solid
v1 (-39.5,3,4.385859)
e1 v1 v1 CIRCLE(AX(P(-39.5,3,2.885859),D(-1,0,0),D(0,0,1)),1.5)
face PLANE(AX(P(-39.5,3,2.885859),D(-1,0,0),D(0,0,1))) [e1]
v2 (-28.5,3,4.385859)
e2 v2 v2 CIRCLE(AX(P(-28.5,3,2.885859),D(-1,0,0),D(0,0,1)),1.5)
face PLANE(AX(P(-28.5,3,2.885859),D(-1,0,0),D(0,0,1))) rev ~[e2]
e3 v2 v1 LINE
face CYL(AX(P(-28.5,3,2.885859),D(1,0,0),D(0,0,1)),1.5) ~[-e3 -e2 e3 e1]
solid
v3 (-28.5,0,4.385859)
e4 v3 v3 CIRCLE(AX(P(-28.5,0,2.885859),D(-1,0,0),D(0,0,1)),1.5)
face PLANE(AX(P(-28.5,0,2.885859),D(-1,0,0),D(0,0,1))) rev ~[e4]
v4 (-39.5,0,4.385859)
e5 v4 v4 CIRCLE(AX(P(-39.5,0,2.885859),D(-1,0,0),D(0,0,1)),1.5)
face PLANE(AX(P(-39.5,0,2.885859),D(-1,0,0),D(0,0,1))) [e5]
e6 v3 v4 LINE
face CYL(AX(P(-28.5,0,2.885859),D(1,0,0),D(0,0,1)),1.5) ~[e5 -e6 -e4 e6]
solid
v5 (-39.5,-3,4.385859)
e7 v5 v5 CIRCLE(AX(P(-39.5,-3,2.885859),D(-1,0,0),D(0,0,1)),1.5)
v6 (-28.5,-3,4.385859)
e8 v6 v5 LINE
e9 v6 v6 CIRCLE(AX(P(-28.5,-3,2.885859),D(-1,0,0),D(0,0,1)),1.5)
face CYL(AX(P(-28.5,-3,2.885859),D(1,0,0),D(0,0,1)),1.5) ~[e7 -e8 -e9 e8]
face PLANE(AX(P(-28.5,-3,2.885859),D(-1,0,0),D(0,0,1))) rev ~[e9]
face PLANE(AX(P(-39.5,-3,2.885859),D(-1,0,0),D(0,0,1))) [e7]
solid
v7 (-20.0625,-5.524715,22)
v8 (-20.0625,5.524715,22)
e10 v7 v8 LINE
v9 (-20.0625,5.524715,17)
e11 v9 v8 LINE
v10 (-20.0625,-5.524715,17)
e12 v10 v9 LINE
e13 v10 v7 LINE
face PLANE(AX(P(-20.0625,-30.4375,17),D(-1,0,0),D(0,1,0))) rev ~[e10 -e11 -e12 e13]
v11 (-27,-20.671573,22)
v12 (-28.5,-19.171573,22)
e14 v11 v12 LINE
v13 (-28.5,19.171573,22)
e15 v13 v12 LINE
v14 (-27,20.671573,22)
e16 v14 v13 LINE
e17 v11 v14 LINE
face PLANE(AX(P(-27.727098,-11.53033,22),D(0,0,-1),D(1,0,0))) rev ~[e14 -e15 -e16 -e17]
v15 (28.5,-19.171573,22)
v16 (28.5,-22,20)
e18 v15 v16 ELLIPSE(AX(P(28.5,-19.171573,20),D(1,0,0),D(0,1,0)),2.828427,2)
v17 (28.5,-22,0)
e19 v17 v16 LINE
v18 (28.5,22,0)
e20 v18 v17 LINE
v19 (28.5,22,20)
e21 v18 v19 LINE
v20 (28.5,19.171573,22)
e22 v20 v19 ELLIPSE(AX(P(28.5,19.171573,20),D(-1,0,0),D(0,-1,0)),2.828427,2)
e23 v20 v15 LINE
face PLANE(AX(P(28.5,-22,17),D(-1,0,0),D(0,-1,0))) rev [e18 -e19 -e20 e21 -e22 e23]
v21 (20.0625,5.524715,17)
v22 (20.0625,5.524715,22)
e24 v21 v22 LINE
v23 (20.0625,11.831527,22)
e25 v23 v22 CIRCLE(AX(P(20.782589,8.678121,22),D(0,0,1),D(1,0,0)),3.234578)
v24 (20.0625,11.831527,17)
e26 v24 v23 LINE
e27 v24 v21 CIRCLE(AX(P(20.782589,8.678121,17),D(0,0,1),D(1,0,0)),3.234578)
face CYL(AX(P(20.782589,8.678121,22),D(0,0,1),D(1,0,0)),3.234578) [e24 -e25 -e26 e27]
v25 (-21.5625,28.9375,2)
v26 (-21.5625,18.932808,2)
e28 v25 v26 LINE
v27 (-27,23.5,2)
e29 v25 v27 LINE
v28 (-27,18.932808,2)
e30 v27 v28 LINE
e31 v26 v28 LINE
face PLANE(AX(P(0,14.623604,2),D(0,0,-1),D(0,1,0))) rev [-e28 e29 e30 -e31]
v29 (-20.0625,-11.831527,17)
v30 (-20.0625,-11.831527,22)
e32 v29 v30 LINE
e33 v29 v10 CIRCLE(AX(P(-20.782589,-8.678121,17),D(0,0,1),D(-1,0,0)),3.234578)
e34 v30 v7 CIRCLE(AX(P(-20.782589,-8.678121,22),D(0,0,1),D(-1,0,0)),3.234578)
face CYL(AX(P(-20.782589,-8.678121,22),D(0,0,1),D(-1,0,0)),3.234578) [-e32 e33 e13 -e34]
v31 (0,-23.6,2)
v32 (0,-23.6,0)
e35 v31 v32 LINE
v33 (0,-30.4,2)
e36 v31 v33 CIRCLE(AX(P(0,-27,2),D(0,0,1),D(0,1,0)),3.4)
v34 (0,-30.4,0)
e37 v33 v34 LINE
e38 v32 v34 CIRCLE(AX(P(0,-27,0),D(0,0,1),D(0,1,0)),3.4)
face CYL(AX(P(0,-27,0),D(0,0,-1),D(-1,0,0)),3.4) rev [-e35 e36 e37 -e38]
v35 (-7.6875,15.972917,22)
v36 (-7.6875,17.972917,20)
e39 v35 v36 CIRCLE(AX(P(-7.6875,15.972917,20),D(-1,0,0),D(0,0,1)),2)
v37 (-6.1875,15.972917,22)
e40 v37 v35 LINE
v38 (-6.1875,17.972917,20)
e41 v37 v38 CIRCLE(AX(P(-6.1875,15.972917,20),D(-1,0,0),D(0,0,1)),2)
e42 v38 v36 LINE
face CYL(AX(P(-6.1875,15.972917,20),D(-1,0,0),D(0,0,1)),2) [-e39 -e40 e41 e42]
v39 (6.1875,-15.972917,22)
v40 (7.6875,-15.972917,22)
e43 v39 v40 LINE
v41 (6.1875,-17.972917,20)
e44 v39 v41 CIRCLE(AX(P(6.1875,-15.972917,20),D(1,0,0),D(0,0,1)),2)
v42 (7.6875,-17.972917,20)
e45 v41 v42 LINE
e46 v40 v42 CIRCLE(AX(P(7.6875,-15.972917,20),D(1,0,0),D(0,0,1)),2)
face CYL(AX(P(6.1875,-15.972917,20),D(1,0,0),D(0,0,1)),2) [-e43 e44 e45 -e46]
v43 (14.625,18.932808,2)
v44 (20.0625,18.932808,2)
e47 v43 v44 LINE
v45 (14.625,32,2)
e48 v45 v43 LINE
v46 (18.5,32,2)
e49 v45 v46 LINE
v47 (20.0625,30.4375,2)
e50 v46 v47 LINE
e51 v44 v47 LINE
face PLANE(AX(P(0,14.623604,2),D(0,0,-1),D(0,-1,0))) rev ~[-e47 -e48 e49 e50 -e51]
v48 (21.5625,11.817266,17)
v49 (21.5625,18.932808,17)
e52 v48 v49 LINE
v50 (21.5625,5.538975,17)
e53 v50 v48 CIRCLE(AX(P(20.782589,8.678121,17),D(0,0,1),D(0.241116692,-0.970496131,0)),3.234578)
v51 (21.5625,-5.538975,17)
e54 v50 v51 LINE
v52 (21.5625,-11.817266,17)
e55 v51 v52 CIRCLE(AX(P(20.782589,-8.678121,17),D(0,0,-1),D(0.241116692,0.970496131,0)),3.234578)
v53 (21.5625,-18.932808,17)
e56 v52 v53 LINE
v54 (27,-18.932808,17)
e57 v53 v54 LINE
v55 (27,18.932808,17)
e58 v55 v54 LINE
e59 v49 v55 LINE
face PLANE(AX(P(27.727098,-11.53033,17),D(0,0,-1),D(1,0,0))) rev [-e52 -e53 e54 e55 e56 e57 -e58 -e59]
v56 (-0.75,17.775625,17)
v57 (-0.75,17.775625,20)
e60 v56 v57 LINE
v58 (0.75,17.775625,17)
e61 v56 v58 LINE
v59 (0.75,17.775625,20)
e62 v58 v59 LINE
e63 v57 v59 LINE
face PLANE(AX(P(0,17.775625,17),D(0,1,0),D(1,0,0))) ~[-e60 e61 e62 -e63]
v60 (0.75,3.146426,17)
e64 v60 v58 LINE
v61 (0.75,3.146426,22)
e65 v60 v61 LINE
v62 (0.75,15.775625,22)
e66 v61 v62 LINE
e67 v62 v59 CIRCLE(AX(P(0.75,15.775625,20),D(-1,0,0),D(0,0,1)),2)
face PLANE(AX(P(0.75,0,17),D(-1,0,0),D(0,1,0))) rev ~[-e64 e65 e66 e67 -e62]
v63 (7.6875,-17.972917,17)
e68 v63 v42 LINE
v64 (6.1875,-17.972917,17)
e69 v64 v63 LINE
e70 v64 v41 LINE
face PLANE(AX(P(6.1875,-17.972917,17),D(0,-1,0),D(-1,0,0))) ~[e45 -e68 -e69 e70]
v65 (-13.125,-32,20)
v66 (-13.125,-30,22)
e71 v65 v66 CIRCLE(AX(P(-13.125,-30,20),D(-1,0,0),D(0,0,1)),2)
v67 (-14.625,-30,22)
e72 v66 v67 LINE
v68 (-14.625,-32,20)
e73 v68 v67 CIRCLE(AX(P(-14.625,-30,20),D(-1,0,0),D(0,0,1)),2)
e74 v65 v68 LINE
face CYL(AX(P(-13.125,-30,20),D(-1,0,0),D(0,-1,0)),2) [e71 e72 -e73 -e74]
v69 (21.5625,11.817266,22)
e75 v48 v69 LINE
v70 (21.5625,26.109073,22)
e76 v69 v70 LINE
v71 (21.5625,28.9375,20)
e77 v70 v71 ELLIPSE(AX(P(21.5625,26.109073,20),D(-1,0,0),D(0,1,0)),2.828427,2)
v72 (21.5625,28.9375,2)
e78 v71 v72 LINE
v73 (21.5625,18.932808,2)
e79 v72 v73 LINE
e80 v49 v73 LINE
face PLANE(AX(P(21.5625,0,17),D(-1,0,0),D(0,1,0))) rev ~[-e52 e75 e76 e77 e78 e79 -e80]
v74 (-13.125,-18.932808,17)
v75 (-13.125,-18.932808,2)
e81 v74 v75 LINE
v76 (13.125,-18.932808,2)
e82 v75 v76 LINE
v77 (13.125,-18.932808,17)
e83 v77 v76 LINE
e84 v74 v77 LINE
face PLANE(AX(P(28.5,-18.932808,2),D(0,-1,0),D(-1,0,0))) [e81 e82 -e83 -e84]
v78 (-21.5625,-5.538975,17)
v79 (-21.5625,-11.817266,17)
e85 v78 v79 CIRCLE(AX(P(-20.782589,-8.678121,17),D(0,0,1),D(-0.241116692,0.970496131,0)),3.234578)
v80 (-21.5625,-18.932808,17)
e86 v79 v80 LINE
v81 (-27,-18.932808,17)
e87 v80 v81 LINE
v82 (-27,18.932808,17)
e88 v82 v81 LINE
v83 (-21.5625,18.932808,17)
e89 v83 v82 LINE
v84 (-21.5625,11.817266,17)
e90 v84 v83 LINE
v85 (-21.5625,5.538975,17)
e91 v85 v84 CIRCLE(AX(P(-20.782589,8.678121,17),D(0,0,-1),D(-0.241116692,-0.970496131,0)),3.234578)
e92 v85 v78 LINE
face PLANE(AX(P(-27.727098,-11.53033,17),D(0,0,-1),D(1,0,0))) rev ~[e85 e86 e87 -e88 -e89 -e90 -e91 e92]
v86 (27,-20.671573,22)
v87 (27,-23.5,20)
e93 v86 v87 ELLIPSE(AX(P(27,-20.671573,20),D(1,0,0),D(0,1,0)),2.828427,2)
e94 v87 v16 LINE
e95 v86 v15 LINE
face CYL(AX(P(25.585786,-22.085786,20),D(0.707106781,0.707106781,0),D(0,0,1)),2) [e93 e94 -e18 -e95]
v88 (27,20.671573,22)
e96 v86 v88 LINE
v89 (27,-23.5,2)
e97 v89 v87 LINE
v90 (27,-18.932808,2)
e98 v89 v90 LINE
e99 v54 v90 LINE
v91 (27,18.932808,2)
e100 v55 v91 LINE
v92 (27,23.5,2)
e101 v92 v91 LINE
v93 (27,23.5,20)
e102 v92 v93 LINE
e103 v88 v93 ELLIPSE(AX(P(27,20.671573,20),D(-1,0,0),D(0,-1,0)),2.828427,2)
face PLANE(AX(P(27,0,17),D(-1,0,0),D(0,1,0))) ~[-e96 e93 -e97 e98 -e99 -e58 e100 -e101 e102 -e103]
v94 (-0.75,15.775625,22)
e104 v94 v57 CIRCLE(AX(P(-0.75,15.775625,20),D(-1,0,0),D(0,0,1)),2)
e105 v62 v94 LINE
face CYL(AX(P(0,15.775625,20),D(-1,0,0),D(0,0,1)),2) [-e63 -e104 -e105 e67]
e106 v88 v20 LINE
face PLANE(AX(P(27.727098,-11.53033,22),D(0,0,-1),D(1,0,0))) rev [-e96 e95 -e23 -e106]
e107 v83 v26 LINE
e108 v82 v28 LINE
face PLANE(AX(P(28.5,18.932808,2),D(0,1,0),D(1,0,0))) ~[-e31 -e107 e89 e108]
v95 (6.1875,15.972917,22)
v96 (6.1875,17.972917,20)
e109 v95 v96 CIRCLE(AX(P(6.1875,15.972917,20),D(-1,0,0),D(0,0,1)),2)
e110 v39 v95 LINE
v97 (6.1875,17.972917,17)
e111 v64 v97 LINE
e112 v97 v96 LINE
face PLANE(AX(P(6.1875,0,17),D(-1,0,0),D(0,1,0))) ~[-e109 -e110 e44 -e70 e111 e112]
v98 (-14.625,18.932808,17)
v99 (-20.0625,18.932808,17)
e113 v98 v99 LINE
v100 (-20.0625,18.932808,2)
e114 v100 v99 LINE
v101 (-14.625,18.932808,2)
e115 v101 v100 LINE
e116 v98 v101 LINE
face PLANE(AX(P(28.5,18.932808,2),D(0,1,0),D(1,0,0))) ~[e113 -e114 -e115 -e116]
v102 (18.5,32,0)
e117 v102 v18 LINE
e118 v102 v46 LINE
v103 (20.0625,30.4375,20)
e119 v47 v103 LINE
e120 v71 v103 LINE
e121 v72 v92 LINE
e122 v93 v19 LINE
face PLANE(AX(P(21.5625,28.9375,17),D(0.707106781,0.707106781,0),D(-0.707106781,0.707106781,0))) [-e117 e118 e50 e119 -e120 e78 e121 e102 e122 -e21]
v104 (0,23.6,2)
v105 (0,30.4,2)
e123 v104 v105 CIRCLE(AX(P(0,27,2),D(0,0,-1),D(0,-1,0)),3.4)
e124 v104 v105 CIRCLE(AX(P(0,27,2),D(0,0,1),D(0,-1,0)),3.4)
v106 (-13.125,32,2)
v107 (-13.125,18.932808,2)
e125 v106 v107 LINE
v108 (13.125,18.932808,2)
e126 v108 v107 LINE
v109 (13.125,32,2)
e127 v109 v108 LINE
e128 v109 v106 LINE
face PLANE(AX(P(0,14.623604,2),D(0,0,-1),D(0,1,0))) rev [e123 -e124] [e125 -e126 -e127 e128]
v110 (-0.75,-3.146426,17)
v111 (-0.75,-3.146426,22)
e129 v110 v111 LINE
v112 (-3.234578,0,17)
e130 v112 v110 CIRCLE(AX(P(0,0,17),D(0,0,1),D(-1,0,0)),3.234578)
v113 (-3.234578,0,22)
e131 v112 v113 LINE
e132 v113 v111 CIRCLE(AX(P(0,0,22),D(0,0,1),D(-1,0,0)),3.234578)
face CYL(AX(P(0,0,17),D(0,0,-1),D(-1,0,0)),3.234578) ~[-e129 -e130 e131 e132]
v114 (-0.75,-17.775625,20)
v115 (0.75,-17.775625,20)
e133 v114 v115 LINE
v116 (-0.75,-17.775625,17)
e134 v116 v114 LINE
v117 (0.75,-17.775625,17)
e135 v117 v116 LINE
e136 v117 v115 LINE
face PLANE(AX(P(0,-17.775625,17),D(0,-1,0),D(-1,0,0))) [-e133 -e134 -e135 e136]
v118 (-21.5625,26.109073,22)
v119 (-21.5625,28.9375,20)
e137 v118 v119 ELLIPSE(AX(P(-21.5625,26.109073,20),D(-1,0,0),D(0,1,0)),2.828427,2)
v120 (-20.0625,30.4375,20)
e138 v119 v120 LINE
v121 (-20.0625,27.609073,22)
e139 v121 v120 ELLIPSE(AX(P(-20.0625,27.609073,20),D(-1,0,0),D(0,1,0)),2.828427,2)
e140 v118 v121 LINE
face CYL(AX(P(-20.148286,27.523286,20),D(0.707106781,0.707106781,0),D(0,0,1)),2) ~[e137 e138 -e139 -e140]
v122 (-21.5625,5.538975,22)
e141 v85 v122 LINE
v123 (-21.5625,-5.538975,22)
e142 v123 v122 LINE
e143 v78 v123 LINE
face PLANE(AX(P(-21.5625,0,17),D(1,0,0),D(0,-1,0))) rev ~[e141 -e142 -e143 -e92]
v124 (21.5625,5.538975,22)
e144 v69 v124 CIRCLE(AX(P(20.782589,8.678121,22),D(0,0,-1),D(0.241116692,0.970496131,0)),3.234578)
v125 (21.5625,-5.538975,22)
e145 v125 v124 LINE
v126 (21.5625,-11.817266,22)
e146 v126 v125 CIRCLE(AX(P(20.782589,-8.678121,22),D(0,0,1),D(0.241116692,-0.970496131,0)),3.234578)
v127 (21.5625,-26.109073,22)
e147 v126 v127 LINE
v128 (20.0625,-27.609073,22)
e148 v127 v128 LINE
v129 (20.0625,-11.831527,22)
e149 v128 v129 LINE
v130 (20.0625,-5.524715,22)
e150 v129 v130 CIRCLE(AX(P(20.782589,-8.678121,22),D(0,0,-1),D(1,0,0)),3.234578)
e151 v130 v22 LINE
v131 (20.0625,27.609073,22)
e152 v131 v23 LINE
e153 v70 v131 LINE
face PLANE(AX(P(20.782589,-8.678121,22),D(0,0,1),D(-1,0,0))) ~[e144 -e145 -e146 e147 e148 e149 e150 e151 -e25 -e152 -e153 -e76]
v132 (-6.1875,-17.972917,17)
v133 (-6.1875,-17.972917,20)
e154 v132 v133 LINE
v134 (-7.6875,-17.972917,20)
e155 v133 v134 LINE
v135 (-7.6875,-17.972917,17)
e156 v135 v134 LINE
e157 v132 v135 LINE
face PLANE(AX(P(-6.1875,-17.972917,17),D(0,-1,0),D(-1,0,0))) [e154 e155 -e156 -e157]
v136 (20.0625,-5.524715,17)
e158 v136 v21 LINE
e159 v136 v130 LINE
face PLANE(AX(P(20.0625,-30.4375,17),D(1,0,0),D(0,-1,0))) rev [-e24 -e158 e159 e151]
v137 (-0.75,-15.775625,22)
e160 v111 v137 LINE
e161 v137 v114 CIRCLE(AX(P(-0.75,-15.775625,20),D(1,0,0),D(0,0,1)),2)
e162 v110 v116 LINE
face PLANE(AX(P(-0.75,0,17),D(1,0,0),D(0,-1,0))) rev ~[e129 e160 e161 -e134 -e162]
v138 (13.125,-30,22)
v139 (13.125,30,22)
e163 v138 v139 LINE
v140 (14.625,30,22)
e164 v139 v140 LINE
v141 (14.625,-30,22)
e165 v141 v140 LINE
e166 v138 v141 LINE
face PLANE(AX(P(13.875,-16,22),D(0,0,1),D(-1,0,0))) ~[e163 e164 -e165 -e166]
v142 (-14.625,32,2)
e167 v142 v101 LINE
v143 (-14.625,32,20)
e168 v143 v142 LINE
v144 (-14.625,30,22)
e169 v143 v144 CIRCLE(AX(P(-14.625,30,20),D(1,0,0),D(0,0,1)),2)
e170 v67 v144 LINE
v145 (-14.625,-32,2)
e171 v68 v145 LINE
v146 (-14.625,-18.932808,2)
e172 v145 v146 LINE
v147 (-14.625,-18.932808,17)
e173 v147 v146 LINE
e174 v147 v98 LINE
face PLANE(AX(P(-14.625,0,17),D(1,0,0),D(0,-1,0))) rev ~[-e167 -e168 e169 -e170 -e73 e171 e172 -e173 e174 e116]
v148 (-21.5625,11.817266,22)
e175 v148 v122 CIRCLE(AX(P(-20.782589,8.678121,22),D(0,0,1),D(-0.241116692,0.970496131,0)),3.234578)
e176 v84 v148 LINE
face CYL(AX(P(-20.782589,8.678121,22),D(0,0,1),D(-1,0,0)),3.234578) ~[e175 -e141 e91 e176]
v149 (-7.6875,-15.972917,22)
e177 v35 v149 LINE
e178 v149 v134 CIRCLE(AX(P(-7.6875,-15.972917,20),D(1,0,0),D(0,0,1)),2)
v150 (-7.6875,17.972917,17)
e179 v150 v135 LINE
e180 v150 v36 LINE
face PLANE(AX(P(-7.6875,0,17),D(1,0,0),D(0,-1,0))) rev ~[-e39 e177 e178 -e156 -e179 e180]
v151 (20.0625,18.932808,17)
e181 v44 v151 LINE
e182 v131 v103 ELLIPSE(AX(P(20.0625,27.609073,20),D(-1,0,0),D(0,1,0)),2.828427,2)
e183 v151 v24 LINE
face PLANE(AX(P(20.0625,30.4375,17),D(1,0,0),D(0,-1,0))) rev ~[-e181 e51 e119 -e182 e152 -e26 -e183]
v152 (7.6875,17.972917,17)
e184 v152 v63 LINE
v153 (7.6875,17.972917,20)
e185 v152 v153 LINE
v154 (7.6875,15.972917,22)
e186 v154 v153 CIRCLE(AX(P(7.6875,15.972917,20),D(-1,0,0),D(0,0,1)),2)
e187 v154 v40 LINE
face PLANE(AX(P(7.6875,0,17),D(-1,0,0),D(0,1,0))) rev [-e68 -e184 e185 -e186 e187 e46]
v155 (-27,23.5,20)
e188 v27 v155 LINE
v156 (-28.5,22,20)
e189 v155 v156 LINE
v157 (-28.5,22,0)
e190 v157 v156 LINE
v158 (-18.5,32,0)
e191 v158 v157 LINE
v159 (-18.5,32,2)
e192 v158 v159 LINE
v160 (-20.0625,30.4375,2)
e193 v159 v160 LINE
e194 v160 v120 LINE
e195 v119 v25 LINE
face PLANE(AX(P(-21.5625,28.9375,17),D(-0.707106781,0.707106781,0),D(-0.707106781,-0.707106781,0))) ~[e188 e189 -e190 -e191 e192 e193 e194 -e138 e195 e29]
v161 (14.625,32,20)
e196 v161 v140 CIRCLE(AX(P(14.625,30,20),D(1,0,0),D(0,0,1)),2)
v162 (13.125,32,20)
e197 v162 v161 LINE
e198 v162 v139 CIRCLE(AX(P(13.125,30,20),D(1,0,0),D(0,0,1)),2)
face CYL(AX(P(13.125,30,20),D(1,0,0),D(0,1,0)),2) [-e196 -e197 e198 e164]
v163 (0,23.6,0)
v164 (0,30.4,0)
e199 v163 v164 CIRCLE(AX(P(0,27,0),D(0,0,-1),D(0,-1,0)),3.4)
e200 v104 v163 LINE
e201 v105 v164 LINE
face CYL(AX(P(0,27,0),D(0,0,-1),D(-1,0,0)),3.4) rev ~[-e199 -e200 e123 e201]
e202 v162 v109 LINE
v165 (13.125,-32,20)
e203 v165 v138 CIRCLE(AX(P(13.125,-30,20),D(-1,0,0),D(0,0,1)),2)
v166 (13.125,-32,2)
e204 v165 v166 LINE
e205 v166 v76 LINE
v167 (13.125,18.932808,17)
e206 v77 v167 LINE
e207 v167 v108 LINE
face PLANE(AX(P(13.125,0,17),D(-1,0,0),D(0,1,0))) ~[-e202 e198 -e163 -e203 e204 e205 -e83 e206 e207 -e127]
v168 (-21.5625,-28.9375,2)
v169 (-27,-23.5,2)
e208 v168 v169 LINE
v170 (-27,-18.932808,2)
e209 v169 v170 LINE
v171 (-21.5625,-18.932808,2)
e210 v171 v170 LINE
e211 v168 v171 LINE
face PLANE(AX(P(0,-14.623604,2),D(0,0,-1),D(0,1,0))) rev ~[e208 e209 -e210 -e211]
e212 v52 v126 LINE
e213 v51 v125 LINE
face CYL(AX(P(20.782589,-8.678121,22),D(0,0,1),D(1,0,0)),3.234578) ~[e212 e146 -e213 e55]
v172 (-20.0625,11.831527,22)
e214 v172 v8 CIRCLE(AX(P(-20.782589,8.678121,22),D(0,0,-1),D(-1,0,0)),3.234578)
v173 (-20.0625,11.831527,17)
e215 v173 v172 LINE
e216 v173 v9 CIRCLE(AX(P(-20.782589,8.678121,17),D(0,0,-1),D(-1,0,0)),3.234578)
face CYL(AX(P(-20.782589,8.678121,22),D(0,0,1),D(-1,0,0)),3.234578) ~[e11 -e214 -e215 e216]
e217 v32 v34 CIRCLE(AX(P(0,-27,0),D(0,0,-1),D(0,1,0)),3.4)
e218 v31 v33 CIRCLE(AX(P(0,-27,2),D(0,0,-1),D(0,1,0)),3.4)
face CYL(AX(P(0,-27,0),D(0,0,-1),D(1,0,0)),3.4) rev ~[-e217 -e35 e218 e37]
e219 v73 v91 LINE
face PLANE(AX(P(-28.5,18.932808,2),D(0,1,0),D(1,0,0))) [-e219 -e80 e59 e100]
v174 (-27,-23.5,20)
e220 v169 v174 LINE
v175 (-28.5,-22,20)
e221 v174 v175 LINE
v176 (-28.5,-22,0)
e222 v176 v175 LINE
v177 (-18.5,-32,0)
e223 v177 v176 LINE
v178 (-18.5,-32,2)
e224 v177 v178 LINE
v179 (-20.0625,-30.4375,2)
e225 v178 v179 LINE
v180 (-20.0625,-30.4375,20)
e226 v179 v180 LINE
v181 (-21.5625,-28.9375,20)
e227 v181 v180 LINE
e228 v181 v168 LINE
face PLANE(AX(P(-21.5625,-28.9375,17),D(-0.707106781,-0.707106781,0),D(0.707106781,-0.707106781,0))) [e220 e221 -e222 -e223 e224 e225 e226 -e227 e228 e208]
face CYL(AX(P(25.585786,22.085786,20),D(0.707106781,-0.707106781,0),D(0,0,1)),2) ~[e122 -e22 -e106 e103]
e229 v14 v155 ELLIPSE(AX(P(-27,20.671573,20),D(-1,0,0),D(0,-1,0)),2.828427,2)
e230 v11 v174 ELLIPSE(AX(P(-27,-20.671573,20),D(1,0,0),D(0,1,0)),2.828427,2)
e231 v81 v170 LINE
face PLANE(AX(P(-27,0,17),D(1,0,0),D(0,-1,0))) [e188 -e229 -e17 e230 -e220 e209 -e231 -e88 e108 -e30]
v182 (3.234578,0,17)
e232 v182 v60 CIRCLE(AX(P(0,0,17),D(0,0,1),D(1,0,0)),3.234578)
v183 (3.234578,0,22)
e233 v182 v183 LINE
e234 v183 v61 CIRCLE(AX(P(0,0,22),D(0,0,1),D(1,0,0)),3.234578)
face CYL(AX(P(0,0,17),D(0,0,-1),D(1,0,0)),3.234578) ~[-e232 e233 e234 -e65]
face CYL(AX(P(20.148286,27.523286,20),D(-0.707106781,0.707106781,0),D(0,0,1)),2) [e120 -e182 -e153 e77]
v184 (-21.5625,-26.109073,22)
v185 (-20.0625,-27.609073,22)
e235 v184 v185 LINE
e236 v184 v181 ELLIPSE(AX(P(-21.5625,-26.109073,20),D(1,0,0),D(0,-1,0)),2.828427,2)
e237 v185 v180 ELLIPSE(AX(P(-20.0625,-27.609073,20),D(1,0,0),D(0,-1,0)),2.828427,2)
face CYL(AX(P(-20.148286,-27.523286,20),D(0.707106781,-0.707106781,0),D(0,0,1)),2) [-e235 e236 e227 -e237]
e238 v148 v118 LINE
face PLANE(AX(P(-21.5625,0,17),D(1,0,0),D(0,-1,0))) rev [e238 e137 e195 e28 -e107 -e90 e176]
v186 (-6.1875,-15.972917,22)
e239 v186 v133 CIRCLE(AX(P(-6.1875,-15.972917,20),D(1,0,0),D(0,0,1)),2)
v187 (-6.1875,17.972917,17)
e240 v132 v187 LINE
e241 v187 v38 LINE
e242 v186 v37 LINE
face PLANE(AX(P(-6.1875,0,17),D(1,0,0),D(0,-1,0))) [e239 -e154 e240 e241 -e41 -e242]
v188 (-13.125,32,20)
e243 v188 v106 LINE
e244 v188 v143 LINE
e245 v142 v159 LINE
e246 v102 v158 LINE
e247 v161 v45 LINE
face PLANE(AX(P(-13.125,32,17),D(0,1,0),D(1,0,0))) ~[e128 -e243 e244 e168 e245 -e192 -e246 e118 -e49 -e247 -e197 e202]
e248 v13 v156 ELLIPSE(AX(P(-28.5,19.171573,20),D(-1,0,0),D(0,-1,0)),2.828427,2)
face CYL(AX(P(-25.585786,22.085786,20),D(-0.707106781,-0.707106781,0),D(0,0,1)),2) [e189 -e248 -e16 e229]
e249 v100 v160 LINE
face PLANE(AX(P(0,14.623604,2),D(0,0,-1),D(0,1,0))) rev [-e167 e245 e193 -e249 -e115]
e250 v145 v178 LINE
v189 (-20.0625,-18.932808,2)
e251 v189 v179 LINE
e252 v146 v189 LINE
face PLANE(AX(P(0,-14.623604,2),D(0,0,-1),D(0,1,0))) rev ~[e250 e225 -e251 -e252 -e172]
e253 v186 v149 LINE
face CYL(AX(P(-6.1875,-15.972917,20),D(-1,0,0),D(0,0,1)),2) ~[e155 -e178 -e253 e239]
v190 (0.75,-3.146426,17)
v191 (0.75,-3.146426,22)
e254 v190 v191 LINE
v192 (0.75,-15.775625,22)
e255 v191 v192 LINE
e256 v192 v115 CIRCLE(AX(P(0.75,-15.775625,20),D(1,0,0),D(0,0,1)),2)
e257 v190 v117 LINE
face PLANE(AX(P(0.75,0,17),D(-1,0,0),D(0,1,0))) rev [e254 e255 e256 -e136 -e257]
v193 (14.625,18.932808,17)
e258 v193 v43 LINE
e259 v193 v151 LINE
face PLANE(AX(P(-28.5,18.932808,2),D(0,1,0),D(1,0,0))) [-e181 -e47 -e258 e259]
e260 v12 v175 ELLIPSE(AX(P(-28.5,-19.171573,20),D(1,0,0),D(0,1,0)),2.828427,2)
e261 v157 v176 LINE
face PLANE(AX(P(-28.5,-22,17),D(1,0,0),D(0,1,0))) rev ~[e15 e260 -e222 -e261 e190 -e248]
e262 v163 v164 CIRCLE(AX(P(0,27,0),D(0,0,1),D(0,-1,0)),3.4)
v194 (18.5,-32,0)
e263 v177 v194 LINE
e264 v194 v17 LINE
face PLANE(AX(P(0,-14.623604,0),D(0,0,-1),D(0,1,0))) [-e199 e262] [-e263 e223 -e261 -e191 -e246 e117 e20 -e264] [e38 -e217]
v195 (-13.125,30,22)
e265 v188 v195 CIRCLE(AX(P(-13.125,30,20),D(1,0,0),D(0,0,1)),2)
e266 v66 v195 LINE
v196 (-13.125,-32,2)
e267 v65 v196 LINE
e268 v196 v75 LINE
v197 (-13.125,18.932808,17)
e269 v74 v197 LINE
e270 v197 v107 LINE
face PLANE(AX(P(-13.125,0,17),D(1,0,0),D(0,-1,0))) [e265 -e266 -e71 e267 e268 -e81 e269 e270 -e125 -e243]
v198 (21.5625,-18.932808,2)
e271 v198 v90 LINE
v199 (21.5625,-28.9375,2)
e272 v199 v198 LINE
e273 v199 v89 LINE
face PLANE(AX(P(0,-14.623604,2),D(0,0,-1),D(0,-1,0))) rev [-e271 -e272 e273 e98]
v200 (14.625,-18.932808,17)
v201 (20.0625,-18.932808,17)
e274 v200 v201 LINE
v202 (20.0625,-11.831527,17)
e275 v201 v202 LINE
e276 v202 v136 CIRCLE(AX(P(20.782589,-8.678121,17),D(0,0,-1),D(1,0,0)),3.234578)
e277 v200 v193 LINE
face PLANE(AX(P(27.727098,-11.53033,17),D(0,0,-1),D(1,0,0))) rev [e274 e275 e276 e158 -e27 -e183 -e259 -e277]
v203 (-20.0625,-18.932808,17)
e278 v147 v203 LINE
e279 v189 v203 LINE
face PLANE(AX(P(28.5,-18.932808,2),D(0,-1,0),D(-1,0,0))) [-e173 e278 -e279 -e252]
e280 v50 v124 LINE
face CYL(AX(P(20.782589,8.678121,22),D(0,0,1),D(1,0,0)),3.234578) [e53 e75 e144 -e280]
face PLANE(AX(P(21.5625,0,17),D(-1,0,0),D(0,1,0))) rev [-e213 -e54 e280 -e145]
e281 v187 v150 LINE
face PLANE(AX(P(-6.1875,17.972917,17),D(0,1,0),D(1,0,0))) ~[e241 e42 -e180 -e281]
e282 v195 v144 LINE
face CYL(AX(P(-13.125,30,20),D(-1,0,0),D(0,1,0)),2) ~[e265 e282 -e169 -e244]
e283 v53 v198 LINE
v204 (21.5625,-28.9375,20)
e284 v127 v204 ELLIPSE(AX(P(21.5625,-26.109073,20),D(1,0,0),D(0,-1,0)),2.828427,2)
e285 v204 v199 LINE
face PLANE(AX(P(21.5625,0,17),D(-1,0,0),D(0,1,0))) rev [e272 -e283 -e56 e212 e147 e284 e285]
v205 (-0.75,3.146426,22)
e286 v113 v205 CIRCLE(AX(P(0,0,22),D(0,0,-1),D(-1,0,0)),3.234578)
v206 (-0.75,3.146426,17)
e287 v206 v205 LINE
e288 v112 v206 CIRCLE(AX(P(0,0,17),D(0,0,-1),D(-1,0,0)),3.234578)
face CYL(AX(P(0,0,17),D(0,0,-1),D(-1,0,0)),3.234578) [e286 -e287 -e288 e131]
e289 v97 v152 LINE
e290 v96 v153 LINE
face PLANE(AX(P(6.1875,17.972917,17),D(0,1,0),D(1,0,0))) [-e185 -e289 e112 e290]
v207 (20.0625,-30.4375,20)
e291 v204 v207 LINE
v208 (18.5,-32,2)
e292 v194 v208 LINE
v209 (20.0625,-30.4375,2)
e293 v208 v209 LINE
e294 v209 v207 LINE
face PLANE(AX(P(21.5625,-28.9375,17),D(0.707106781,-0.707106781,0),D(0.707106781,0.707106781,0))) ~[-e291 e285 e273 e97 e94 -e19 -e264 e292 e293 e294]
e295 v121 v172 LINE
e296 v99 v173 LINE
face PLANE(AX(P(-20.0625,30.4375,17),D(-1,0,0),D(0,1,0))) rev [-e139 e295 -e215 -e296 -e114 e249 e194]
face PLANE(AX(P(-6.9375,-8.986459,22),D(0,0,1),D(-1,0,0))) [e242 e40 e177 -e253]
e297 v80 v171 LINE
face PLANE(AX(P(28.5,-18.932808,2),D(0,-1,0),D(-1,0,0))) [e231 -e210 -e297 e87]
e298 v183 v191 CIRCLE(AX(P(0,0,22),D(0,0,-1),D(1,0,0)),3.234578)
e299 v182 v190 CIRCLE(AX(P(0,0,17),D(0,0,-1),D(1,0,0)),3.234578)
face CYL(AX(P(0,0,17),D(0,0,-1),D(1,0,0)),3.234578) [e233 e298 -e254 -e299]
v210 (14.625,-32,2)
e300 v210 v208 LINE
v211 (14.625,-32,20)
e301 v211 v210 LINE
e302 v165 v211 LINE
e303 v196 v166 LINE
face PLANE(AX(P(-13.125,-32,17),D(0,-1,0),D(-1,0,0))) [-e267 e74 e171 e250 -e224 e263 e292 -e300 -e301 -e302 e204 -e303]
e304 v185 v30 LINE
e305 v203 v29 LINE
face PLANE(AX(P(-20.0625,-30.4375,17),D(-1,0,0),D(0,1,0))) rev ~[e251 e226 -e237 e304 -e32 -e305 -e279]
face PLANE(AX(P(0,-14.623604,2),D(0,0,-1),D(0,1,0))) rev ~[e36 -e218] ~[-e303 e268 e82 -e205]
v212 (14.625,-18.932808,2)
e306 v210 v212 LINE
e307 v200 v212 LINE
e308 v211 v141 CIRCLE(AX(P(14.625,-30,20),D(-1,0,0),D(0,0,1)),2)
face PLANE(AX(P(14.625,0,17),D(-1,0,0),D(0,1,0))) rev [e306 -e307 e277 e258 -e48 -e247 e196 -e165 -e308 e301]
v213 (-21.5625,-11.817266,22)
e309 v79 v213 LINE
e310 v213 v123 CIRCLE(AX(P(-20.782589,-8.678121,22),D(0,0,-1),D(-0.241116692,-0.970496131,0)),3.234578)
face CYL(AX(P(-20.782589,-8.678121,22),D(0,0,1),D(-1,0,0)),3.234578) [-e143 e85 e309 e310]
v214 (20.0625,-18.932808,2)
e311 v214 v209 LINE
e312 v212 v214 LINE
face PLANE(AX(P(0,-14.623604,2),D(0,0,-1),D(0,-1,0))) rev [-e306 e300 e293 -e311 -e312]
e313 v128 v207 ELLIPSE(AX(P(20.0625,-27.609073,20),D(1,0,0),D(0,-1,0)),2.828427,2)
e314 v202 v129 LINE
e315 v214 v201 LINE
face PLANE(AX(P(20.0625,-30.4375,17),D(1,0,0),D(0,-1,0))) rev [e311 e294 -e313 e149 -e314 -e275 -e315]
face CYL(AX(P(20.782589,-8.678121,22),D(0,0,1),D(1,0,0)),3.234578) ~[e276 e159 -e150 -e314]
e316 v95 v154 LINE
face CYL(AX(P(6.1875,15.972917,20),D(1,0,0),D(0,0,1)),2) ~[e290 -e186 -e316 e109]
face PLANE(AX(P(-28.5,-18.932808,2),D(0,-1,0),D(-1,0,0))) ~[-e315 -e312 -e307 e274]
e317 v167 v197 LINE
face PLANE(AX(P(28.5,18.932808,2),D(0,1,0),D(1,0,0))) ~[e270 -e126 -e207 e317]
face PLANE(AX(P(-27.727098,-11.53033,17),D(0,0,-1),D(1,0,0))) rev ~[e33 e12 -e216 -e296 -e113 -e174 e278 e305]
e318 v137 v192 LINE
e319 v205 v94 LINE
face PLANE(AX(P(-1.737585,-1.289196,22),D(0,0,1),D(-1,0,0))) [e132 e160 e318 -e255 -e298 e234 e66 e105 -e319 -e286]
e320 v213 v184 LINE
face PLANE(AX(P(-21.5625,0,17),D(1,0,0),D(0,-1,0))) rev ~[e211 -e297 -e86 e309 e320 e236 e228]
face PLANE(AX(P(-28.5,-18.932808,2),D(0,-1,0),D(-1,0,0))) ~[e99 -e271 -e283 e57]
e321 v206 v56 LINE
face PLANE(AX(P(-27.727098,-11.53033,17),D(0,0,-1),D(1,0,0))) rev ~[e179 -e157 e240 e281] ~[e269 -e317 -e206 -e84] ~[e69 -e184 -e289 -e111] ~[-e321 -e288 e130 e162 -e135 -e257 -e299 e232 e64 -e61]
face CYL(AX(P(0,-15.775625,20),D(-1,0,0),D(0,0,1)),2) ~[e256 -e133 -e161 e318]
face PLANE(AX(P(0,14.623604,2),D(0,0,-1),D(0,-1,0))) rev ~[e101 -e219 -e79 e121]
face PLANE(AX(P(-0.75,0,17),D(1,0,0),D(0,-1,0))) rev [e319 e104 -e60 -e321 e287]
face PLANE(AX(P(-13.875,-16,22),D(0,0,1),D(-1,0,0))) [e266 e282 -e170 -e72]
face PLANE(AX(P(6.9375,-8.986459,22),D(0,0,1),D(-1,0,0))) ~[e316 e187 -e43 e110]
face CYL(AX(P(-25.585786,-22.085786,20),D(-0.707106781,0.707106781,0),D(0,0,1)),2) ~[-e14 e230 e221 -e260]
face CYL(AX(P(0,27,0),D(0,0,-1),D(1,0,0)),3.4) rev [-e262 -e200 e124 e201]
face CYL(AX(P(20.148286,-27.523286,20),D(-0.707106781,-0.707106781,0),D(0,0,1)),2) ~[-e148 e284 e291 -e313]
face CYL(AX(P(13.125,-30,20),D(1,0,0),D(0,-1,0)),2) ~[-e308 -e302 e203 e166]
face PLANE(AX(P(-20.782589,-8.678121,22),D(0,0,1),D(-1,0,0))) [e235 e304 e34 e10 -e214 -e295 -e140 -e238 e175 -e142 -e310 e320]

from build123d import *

# Parameters (mm, degrees)
SKIZZE1_R                                   = 3.4
AUFSATZ_LINEAR_AUSTRAGEN1_DEPTH             = 2
SKIZZE2_W                                   = 57
SKIZZE2_H                                   = 18.932808473
AUFSATZ_LINEAR_AUSTRAGEN2_DEPTH             = 15
SCHNITT_LINEAR_AUSTRAGEN1_DEPTH             = 47.100433837
SCHNITT_LINEAR_AUSTRAGEN1_DEPTH_BACK        = 47.100433837
SKIZZE3_W                                   = 34.623433363
SKIZZE3_H                                   = 45.110839659
AUFSATZ_LINEAR_AUSTRAGEN3_REACH             = 48.1
SKIZZE4_W                                   = 1.5
SKIZZE4_H                                   = 32
SKIZZE4_H_2                                 = 17.972917063
SKIZZE4_W_2                                 = 0.75
SKIZZE4_H_3                                 = 17.775625357
AUFSATZ_LINEAR_AUSTRAGEN3_DIRECTION_2_DEPTH = 5
VERRUNDUNG1_R                               = 2
SKIZZE5_R                                   = 3.234578413
AUFSATZ_LINEAR_AUSTRAGEN4_DEPTH             = 5
AUFSATZ_LINEAR_AUSTRAGEN7_DEPTH             = 5
SKIZZE7_R                                   = 1.5
AUFSATZ_LINEAR_AUSTRAGEN9_DEPTH             = 11
AUFSATZ_LINEAR_AUSTRAGEN9_2_DEPTH           = 11
AUFSATZ_LINEAR_AUSTRAGEN9_3_DEPTH           = 11


with BuildPart() as part:
    # Skizze1 → Aufsatz-Linear austragen1 (new body)
    with BuildSketch(Plane(origin=(0, 0, 0), x_dir=(0, 1, 0), z_dir=(0, 0, 1))):
        Polygon((22, 28.5), (32, 18.5), (32, -18.5), (22, -28.5), (0, -28.5), (0, 28.5), align=None)
        with Locations(Location((27, 0, 0), (0, 0, 270))):
            Circle(SKIZZE1_R, mode=Mode.SUBTRACT)
    extrude(amount=AUFSATZ_LINEAR_AUSTRAGEN1_DEPTH)

    # Skizze2 → Aufsatz-Linear austragen2 (add)
    with BuildSketch(Plane.XY.offset(2)):
        with Locations((0, 9.466404237)):
            Rectangle(SKIZZE2_W, SKIZZE2_H)
    extrude(amount=AUFSATZ_LINEAR_AUSTRAGEN2_DEPTH)

    # Skizze3 → Schnitt-Linear austragen1 (cut, two sides: drawn at the far end of the back side and taken through both)
    with BuildSketch(Plane.XY.offset(17).offset(-SCHNITT_LINEAR_AUSTRAGEN1_DEPTH_BACK)):
        with Locations((-17.311716682, 22.555419829)):
            Rectangle(SKIZZE3_W, SKIZZE3_H)
    extrude(amount=SCHNITT_LINEAR_AUSTRAGEN1_DEPTH + SCHNITT_LINEAR_AUSTRAGEN1_DEPTH_BACK, mode=Mode.SUBTRACT)

    # Aufsatz-Linear austragen3: up to this face of the body (flat: up to its plane)
    aufsatz_linear_austragen3_end = Plane(part.part.faces().sort_by_distance((13.22034684, 24.848962234, 2))[0])
    # Skizze4 → Aufsatz-Linear austragen3 (add, up to the picked face)
    with BuildSketch(Plane.XY.offset(17), mode=Mode.PRIVATE) as aufsatz_linear_austragen3_sk1:
        with Locations((13.875, 16)):
            Rectangle(SKIZZE4_W, SKIZZE4_H)
    aufsatz_linear_austragen3_tool1 = split(extrude(aufsatz_linear_austragen3_sk1.sketch, amount=-AUFSATZ_LINEAR_AUSTRAGEN3_REACH, mode=Mode.PRIVATE), bisect_by=aufsatz_linear_austragen3_end, keep=Keep.BOTH, mode=Mode.PRIVATE)
    # Skizze4 → Aufsatz-Linear austragen3 (add, up to the picked face)
    with BuildSketch(Plane.XY.offset(17), mode=Mode.PRIVATE) as aufsatz_linear_austragen3_sk2:
        Polygon((27, 23.5), (28.5, 22), (28.5, 0), (27, 0), align=None)
    aufsatz_linear_austragen3_tool2 = split(extrude(aufsatz_linear_austragen3_sk2.sketch, amount=-AUFSATZ_LINEAR_AUSTRAGEN3_REACH, mode=Mode.PRIVATE), bisect_by=aufsatz_linear_austragen3_end, keep=Keep.BOTH, mode=Mode.PRIVATE)
    # Skizze4 → Aufsatz-Linear austragen3 (add, up to the picked face)
    with BuildSketch(Plane.XY.offset(17), mode=Mode.PRIVATE) as aufsatz_linear_austragen3_sk3:
        Polygon((20.0625, 0), (21.5625, 0), (21.5625, 28.9375), (20.0625, 30.4375), align=None)
    aufsatz_linear_austragen3_tool3 = split(extrude(aufsatz_linear_austragen3_sk3.sketch, amount=-AUFSATZ_LINEAR_AUSTRAGEN3_REACH, mode=Mode.PRIVATE), bisect_by=aufsatz_linear_austragen3_end, keep=Keep.BOTH, mode=Mode.PRIVATE)
    # Skizze4 → Aufsatz-Linear austragen3 (add, up to the picked face)
    with BuildSketch(Plane.XY.offset(17), mode=Mode.PRIVATE) as aufsatz_linear_austragen3_sk4:
        with Locations((6.9375, 8.986458532)):
            Rectangle(SKIZZE4_W, SKIZZE4_H_2)
    aufsatz_linear_austragen3_tool4 = split(extrude(aufsatz_linear_austragen3_sk4.sketch, amount=-AUFSATZ_LINEAR_AUSTRAGEN3_REACH, mode=Mode.PRIVATE), bisect_by=aufsatz_linear_austragen3_end, keep=Keep.BOTH, mode=Mode.PRIVATE)
    # Skizze4 → Aufsatz-Linear austragen3 (add, up to the picked face)
    with BuildSketch(Plane.XY.offset(17), mode=Mode.PRIVATE) as aufsatz_linear_austragen3_sk5:
        with Locations((0.375, 8.887812679)):
            Rectangle(SKIZZE4_W_2, SKIZZE4_H_3)
    aufsatz_linear_austragen3_tool5 = split(extrude(aufsatz_linear_austragen3_sk5.sketch, amount=-AUFSATZ_LINEAR_AUSTRAGEN3_REACH, mode=Mode.PRIVATE), bisect_by=aufsatz_linear_austragen3_end, keep=Keep.BOTH, mode=Mode.PRIVATE)
    add(aufsatz_linear_austragen3_tool1.solids().sort_by(Axis((13.875, 16, 17), (0, 0, -1)))[0])
    add(aufsatz_linear_austragen3_tool2.solids().sort_by(Axis((27.741758, 11.379121, 17), (0, 0, -1)))[0])
    add(aufsatz_linear_austragen3_tool3.solids().sort_by(Axis((20.806184, 14.846908, 17), (0, 0, -1)))[0])
    add(aufsatz_linear_austragen3_tool4.solids().sort_by(Axis((6.9375, 8.986459, 17), (0, 0, -1)))[0])
    add(aufsatz_linear_austragen3_tool5.solids().sort_by(Axis((0.375, 8.887813, 17), (0, 0, -1)))[0])

    # Skizze4 → Aufsatz-Linear austragen3 direction 2 (add)
    with BuildSketch(Plane.XY.offset(17)):
        with Locations((13.875, 16)):
            Rectangle(SKIZZE4_W, SKIZZE4_H)
        Polygon((27, 23.5), (28.5, 22), (28.5, 0), (27, 0), align=None)
        Polygon((20.0625, 0), (21.5625, 0), (21.5625, 28.9375), (20.0625, 30.4375), align=None)
        with Locations((6.9375, 8.986458532)):
            Rectangle(SKIZZE4_W, SKIZZE4_H_2)
        with Locations((0.375, 8.887812679)):
            Rectangle(SKIZZE4_W_2, SKIZZE4_H_3)
    extrude(amount=AUFSATZ_LINEAR_AUSTRAGEN3_DIRECTION_2_DEPTH)

    # Verrundung1
    verrundung1_edges = [part.edges().sort_by_distance(p)[0] for p in [
        (0.375, 17.775625357, 22),
        (27.75, 22.75, 22),
        (20.8125, 29.6875, 22),
        (13.875, 32, 22),
        (6.9375, 17.972917063, 22),
    ]]
    fillet(verrundung1_edges, radius=VERRUNDUNG1_R)

    # Skizze5 → Aufsatz-Linear austragen4 (add)
    with BuildSketch(Plane.XY.offset(22)):
        with Locations((20.782589152, 8.678120593)):
            Circle(SKIZZE5_R)
    extrude(amount=-AUFSATZ_LINEAR_AUSTRAGEN4_DEPTH)

    # Skizze6 → Aufsatz-Linear austragen7 (add)
    with BuildSketch(Plane.XY.offset(17)):
        with BuildLine():
            Line((0.75, 0), (3.234578413, 0))
            ThreePointArc((3.234578413, 0), (2.538545974, 2.004565252), (0.75, 3.146426149))
            Line((0.75, 3.146426149), (0.75, 0))
        make_face()
        with BuildLine():
            Line((0, 0), (0.75, 0))
            Line((0.75, 0), (0.75, 3.146426149))
            ThreePointArc((0.75, 3.146426149), (0.377581389, 3.212464755), (0, 3.234578413))
            Line((0, 3.234578413), (0, 0))
        make_face()
    extrude(amount=AUFSATZ_LINEAR_AUSTRAGEN7_DEPTH)

    # Spiegeln1: part across face


with BuildPart() as part_1:
    add(part.part)
    add(part.part.mirror(Plane(origin=(14.039898882, 0, 9.457090178), x_dir=(0, 0, 1), z_dir=(0, -1, 0))))

    # Spiegeln2: part across plane


with BuildPart() as part_2:
    add(part_1.part)
    add(part_1.part.mirror(Plane(origin=(0, 0, 0), x_dir=(0, 0, 1), z_dir=(1, 0, 0))))


with BuildPart() as body_2:
    # Skizze7 → Aufsatz-Linear austragen9 (new body)
    with BuildSketch(Plane(origin=(-28.5, 0, 0), x_dir=(0, -1, 0), z_dir=(-1, 0, 0))):
        with Locations(Location((-3, 2.885859275, 0), (0, 0, 90))):
            Circle(SKIZZE7_R)
    extrude(amount=AUFSATZ_LINEAR_AUSTRAGEN9_DEPTH)


with BuildPart() as body_3:
    # Skizze7 → Aufsatz-Linear austragen9 2 (new body)
    with BuildSketch(Plane(origin=(-28.5, 0, 0), x_dir=(0, -1, 0), z_dir=(-1, 0, 0))):
        with Locations(Location((0, 2.885859275, 0), (0, 0, 90))):
            Circle(SKIZZE7_R)
    extrude(amount=AUFSATZ_LINEAR_AUSTRAGEN9_2_DEPTH)


with BuildPart() as body_4:
    # Skizze7 → Aufsatz-Linear austragen9 3 (new body)
    with BuildSketch(Plane(origin=(-28.5, 0, 0), x_dir=(0, -1, 0), z_dir=(-1, 0, 0))):
        with Locations(Location((3, 2.885859275, 0), (0, 0, 90))):
            Circle(SKIZZE7_R)
    extrude(amount=AUFSATZ_LINEAR_AUSTRAGEN9_3_DEPTH)


solid = Compound([part_2.part, body_2.part, body_3.part, body_4.part])
